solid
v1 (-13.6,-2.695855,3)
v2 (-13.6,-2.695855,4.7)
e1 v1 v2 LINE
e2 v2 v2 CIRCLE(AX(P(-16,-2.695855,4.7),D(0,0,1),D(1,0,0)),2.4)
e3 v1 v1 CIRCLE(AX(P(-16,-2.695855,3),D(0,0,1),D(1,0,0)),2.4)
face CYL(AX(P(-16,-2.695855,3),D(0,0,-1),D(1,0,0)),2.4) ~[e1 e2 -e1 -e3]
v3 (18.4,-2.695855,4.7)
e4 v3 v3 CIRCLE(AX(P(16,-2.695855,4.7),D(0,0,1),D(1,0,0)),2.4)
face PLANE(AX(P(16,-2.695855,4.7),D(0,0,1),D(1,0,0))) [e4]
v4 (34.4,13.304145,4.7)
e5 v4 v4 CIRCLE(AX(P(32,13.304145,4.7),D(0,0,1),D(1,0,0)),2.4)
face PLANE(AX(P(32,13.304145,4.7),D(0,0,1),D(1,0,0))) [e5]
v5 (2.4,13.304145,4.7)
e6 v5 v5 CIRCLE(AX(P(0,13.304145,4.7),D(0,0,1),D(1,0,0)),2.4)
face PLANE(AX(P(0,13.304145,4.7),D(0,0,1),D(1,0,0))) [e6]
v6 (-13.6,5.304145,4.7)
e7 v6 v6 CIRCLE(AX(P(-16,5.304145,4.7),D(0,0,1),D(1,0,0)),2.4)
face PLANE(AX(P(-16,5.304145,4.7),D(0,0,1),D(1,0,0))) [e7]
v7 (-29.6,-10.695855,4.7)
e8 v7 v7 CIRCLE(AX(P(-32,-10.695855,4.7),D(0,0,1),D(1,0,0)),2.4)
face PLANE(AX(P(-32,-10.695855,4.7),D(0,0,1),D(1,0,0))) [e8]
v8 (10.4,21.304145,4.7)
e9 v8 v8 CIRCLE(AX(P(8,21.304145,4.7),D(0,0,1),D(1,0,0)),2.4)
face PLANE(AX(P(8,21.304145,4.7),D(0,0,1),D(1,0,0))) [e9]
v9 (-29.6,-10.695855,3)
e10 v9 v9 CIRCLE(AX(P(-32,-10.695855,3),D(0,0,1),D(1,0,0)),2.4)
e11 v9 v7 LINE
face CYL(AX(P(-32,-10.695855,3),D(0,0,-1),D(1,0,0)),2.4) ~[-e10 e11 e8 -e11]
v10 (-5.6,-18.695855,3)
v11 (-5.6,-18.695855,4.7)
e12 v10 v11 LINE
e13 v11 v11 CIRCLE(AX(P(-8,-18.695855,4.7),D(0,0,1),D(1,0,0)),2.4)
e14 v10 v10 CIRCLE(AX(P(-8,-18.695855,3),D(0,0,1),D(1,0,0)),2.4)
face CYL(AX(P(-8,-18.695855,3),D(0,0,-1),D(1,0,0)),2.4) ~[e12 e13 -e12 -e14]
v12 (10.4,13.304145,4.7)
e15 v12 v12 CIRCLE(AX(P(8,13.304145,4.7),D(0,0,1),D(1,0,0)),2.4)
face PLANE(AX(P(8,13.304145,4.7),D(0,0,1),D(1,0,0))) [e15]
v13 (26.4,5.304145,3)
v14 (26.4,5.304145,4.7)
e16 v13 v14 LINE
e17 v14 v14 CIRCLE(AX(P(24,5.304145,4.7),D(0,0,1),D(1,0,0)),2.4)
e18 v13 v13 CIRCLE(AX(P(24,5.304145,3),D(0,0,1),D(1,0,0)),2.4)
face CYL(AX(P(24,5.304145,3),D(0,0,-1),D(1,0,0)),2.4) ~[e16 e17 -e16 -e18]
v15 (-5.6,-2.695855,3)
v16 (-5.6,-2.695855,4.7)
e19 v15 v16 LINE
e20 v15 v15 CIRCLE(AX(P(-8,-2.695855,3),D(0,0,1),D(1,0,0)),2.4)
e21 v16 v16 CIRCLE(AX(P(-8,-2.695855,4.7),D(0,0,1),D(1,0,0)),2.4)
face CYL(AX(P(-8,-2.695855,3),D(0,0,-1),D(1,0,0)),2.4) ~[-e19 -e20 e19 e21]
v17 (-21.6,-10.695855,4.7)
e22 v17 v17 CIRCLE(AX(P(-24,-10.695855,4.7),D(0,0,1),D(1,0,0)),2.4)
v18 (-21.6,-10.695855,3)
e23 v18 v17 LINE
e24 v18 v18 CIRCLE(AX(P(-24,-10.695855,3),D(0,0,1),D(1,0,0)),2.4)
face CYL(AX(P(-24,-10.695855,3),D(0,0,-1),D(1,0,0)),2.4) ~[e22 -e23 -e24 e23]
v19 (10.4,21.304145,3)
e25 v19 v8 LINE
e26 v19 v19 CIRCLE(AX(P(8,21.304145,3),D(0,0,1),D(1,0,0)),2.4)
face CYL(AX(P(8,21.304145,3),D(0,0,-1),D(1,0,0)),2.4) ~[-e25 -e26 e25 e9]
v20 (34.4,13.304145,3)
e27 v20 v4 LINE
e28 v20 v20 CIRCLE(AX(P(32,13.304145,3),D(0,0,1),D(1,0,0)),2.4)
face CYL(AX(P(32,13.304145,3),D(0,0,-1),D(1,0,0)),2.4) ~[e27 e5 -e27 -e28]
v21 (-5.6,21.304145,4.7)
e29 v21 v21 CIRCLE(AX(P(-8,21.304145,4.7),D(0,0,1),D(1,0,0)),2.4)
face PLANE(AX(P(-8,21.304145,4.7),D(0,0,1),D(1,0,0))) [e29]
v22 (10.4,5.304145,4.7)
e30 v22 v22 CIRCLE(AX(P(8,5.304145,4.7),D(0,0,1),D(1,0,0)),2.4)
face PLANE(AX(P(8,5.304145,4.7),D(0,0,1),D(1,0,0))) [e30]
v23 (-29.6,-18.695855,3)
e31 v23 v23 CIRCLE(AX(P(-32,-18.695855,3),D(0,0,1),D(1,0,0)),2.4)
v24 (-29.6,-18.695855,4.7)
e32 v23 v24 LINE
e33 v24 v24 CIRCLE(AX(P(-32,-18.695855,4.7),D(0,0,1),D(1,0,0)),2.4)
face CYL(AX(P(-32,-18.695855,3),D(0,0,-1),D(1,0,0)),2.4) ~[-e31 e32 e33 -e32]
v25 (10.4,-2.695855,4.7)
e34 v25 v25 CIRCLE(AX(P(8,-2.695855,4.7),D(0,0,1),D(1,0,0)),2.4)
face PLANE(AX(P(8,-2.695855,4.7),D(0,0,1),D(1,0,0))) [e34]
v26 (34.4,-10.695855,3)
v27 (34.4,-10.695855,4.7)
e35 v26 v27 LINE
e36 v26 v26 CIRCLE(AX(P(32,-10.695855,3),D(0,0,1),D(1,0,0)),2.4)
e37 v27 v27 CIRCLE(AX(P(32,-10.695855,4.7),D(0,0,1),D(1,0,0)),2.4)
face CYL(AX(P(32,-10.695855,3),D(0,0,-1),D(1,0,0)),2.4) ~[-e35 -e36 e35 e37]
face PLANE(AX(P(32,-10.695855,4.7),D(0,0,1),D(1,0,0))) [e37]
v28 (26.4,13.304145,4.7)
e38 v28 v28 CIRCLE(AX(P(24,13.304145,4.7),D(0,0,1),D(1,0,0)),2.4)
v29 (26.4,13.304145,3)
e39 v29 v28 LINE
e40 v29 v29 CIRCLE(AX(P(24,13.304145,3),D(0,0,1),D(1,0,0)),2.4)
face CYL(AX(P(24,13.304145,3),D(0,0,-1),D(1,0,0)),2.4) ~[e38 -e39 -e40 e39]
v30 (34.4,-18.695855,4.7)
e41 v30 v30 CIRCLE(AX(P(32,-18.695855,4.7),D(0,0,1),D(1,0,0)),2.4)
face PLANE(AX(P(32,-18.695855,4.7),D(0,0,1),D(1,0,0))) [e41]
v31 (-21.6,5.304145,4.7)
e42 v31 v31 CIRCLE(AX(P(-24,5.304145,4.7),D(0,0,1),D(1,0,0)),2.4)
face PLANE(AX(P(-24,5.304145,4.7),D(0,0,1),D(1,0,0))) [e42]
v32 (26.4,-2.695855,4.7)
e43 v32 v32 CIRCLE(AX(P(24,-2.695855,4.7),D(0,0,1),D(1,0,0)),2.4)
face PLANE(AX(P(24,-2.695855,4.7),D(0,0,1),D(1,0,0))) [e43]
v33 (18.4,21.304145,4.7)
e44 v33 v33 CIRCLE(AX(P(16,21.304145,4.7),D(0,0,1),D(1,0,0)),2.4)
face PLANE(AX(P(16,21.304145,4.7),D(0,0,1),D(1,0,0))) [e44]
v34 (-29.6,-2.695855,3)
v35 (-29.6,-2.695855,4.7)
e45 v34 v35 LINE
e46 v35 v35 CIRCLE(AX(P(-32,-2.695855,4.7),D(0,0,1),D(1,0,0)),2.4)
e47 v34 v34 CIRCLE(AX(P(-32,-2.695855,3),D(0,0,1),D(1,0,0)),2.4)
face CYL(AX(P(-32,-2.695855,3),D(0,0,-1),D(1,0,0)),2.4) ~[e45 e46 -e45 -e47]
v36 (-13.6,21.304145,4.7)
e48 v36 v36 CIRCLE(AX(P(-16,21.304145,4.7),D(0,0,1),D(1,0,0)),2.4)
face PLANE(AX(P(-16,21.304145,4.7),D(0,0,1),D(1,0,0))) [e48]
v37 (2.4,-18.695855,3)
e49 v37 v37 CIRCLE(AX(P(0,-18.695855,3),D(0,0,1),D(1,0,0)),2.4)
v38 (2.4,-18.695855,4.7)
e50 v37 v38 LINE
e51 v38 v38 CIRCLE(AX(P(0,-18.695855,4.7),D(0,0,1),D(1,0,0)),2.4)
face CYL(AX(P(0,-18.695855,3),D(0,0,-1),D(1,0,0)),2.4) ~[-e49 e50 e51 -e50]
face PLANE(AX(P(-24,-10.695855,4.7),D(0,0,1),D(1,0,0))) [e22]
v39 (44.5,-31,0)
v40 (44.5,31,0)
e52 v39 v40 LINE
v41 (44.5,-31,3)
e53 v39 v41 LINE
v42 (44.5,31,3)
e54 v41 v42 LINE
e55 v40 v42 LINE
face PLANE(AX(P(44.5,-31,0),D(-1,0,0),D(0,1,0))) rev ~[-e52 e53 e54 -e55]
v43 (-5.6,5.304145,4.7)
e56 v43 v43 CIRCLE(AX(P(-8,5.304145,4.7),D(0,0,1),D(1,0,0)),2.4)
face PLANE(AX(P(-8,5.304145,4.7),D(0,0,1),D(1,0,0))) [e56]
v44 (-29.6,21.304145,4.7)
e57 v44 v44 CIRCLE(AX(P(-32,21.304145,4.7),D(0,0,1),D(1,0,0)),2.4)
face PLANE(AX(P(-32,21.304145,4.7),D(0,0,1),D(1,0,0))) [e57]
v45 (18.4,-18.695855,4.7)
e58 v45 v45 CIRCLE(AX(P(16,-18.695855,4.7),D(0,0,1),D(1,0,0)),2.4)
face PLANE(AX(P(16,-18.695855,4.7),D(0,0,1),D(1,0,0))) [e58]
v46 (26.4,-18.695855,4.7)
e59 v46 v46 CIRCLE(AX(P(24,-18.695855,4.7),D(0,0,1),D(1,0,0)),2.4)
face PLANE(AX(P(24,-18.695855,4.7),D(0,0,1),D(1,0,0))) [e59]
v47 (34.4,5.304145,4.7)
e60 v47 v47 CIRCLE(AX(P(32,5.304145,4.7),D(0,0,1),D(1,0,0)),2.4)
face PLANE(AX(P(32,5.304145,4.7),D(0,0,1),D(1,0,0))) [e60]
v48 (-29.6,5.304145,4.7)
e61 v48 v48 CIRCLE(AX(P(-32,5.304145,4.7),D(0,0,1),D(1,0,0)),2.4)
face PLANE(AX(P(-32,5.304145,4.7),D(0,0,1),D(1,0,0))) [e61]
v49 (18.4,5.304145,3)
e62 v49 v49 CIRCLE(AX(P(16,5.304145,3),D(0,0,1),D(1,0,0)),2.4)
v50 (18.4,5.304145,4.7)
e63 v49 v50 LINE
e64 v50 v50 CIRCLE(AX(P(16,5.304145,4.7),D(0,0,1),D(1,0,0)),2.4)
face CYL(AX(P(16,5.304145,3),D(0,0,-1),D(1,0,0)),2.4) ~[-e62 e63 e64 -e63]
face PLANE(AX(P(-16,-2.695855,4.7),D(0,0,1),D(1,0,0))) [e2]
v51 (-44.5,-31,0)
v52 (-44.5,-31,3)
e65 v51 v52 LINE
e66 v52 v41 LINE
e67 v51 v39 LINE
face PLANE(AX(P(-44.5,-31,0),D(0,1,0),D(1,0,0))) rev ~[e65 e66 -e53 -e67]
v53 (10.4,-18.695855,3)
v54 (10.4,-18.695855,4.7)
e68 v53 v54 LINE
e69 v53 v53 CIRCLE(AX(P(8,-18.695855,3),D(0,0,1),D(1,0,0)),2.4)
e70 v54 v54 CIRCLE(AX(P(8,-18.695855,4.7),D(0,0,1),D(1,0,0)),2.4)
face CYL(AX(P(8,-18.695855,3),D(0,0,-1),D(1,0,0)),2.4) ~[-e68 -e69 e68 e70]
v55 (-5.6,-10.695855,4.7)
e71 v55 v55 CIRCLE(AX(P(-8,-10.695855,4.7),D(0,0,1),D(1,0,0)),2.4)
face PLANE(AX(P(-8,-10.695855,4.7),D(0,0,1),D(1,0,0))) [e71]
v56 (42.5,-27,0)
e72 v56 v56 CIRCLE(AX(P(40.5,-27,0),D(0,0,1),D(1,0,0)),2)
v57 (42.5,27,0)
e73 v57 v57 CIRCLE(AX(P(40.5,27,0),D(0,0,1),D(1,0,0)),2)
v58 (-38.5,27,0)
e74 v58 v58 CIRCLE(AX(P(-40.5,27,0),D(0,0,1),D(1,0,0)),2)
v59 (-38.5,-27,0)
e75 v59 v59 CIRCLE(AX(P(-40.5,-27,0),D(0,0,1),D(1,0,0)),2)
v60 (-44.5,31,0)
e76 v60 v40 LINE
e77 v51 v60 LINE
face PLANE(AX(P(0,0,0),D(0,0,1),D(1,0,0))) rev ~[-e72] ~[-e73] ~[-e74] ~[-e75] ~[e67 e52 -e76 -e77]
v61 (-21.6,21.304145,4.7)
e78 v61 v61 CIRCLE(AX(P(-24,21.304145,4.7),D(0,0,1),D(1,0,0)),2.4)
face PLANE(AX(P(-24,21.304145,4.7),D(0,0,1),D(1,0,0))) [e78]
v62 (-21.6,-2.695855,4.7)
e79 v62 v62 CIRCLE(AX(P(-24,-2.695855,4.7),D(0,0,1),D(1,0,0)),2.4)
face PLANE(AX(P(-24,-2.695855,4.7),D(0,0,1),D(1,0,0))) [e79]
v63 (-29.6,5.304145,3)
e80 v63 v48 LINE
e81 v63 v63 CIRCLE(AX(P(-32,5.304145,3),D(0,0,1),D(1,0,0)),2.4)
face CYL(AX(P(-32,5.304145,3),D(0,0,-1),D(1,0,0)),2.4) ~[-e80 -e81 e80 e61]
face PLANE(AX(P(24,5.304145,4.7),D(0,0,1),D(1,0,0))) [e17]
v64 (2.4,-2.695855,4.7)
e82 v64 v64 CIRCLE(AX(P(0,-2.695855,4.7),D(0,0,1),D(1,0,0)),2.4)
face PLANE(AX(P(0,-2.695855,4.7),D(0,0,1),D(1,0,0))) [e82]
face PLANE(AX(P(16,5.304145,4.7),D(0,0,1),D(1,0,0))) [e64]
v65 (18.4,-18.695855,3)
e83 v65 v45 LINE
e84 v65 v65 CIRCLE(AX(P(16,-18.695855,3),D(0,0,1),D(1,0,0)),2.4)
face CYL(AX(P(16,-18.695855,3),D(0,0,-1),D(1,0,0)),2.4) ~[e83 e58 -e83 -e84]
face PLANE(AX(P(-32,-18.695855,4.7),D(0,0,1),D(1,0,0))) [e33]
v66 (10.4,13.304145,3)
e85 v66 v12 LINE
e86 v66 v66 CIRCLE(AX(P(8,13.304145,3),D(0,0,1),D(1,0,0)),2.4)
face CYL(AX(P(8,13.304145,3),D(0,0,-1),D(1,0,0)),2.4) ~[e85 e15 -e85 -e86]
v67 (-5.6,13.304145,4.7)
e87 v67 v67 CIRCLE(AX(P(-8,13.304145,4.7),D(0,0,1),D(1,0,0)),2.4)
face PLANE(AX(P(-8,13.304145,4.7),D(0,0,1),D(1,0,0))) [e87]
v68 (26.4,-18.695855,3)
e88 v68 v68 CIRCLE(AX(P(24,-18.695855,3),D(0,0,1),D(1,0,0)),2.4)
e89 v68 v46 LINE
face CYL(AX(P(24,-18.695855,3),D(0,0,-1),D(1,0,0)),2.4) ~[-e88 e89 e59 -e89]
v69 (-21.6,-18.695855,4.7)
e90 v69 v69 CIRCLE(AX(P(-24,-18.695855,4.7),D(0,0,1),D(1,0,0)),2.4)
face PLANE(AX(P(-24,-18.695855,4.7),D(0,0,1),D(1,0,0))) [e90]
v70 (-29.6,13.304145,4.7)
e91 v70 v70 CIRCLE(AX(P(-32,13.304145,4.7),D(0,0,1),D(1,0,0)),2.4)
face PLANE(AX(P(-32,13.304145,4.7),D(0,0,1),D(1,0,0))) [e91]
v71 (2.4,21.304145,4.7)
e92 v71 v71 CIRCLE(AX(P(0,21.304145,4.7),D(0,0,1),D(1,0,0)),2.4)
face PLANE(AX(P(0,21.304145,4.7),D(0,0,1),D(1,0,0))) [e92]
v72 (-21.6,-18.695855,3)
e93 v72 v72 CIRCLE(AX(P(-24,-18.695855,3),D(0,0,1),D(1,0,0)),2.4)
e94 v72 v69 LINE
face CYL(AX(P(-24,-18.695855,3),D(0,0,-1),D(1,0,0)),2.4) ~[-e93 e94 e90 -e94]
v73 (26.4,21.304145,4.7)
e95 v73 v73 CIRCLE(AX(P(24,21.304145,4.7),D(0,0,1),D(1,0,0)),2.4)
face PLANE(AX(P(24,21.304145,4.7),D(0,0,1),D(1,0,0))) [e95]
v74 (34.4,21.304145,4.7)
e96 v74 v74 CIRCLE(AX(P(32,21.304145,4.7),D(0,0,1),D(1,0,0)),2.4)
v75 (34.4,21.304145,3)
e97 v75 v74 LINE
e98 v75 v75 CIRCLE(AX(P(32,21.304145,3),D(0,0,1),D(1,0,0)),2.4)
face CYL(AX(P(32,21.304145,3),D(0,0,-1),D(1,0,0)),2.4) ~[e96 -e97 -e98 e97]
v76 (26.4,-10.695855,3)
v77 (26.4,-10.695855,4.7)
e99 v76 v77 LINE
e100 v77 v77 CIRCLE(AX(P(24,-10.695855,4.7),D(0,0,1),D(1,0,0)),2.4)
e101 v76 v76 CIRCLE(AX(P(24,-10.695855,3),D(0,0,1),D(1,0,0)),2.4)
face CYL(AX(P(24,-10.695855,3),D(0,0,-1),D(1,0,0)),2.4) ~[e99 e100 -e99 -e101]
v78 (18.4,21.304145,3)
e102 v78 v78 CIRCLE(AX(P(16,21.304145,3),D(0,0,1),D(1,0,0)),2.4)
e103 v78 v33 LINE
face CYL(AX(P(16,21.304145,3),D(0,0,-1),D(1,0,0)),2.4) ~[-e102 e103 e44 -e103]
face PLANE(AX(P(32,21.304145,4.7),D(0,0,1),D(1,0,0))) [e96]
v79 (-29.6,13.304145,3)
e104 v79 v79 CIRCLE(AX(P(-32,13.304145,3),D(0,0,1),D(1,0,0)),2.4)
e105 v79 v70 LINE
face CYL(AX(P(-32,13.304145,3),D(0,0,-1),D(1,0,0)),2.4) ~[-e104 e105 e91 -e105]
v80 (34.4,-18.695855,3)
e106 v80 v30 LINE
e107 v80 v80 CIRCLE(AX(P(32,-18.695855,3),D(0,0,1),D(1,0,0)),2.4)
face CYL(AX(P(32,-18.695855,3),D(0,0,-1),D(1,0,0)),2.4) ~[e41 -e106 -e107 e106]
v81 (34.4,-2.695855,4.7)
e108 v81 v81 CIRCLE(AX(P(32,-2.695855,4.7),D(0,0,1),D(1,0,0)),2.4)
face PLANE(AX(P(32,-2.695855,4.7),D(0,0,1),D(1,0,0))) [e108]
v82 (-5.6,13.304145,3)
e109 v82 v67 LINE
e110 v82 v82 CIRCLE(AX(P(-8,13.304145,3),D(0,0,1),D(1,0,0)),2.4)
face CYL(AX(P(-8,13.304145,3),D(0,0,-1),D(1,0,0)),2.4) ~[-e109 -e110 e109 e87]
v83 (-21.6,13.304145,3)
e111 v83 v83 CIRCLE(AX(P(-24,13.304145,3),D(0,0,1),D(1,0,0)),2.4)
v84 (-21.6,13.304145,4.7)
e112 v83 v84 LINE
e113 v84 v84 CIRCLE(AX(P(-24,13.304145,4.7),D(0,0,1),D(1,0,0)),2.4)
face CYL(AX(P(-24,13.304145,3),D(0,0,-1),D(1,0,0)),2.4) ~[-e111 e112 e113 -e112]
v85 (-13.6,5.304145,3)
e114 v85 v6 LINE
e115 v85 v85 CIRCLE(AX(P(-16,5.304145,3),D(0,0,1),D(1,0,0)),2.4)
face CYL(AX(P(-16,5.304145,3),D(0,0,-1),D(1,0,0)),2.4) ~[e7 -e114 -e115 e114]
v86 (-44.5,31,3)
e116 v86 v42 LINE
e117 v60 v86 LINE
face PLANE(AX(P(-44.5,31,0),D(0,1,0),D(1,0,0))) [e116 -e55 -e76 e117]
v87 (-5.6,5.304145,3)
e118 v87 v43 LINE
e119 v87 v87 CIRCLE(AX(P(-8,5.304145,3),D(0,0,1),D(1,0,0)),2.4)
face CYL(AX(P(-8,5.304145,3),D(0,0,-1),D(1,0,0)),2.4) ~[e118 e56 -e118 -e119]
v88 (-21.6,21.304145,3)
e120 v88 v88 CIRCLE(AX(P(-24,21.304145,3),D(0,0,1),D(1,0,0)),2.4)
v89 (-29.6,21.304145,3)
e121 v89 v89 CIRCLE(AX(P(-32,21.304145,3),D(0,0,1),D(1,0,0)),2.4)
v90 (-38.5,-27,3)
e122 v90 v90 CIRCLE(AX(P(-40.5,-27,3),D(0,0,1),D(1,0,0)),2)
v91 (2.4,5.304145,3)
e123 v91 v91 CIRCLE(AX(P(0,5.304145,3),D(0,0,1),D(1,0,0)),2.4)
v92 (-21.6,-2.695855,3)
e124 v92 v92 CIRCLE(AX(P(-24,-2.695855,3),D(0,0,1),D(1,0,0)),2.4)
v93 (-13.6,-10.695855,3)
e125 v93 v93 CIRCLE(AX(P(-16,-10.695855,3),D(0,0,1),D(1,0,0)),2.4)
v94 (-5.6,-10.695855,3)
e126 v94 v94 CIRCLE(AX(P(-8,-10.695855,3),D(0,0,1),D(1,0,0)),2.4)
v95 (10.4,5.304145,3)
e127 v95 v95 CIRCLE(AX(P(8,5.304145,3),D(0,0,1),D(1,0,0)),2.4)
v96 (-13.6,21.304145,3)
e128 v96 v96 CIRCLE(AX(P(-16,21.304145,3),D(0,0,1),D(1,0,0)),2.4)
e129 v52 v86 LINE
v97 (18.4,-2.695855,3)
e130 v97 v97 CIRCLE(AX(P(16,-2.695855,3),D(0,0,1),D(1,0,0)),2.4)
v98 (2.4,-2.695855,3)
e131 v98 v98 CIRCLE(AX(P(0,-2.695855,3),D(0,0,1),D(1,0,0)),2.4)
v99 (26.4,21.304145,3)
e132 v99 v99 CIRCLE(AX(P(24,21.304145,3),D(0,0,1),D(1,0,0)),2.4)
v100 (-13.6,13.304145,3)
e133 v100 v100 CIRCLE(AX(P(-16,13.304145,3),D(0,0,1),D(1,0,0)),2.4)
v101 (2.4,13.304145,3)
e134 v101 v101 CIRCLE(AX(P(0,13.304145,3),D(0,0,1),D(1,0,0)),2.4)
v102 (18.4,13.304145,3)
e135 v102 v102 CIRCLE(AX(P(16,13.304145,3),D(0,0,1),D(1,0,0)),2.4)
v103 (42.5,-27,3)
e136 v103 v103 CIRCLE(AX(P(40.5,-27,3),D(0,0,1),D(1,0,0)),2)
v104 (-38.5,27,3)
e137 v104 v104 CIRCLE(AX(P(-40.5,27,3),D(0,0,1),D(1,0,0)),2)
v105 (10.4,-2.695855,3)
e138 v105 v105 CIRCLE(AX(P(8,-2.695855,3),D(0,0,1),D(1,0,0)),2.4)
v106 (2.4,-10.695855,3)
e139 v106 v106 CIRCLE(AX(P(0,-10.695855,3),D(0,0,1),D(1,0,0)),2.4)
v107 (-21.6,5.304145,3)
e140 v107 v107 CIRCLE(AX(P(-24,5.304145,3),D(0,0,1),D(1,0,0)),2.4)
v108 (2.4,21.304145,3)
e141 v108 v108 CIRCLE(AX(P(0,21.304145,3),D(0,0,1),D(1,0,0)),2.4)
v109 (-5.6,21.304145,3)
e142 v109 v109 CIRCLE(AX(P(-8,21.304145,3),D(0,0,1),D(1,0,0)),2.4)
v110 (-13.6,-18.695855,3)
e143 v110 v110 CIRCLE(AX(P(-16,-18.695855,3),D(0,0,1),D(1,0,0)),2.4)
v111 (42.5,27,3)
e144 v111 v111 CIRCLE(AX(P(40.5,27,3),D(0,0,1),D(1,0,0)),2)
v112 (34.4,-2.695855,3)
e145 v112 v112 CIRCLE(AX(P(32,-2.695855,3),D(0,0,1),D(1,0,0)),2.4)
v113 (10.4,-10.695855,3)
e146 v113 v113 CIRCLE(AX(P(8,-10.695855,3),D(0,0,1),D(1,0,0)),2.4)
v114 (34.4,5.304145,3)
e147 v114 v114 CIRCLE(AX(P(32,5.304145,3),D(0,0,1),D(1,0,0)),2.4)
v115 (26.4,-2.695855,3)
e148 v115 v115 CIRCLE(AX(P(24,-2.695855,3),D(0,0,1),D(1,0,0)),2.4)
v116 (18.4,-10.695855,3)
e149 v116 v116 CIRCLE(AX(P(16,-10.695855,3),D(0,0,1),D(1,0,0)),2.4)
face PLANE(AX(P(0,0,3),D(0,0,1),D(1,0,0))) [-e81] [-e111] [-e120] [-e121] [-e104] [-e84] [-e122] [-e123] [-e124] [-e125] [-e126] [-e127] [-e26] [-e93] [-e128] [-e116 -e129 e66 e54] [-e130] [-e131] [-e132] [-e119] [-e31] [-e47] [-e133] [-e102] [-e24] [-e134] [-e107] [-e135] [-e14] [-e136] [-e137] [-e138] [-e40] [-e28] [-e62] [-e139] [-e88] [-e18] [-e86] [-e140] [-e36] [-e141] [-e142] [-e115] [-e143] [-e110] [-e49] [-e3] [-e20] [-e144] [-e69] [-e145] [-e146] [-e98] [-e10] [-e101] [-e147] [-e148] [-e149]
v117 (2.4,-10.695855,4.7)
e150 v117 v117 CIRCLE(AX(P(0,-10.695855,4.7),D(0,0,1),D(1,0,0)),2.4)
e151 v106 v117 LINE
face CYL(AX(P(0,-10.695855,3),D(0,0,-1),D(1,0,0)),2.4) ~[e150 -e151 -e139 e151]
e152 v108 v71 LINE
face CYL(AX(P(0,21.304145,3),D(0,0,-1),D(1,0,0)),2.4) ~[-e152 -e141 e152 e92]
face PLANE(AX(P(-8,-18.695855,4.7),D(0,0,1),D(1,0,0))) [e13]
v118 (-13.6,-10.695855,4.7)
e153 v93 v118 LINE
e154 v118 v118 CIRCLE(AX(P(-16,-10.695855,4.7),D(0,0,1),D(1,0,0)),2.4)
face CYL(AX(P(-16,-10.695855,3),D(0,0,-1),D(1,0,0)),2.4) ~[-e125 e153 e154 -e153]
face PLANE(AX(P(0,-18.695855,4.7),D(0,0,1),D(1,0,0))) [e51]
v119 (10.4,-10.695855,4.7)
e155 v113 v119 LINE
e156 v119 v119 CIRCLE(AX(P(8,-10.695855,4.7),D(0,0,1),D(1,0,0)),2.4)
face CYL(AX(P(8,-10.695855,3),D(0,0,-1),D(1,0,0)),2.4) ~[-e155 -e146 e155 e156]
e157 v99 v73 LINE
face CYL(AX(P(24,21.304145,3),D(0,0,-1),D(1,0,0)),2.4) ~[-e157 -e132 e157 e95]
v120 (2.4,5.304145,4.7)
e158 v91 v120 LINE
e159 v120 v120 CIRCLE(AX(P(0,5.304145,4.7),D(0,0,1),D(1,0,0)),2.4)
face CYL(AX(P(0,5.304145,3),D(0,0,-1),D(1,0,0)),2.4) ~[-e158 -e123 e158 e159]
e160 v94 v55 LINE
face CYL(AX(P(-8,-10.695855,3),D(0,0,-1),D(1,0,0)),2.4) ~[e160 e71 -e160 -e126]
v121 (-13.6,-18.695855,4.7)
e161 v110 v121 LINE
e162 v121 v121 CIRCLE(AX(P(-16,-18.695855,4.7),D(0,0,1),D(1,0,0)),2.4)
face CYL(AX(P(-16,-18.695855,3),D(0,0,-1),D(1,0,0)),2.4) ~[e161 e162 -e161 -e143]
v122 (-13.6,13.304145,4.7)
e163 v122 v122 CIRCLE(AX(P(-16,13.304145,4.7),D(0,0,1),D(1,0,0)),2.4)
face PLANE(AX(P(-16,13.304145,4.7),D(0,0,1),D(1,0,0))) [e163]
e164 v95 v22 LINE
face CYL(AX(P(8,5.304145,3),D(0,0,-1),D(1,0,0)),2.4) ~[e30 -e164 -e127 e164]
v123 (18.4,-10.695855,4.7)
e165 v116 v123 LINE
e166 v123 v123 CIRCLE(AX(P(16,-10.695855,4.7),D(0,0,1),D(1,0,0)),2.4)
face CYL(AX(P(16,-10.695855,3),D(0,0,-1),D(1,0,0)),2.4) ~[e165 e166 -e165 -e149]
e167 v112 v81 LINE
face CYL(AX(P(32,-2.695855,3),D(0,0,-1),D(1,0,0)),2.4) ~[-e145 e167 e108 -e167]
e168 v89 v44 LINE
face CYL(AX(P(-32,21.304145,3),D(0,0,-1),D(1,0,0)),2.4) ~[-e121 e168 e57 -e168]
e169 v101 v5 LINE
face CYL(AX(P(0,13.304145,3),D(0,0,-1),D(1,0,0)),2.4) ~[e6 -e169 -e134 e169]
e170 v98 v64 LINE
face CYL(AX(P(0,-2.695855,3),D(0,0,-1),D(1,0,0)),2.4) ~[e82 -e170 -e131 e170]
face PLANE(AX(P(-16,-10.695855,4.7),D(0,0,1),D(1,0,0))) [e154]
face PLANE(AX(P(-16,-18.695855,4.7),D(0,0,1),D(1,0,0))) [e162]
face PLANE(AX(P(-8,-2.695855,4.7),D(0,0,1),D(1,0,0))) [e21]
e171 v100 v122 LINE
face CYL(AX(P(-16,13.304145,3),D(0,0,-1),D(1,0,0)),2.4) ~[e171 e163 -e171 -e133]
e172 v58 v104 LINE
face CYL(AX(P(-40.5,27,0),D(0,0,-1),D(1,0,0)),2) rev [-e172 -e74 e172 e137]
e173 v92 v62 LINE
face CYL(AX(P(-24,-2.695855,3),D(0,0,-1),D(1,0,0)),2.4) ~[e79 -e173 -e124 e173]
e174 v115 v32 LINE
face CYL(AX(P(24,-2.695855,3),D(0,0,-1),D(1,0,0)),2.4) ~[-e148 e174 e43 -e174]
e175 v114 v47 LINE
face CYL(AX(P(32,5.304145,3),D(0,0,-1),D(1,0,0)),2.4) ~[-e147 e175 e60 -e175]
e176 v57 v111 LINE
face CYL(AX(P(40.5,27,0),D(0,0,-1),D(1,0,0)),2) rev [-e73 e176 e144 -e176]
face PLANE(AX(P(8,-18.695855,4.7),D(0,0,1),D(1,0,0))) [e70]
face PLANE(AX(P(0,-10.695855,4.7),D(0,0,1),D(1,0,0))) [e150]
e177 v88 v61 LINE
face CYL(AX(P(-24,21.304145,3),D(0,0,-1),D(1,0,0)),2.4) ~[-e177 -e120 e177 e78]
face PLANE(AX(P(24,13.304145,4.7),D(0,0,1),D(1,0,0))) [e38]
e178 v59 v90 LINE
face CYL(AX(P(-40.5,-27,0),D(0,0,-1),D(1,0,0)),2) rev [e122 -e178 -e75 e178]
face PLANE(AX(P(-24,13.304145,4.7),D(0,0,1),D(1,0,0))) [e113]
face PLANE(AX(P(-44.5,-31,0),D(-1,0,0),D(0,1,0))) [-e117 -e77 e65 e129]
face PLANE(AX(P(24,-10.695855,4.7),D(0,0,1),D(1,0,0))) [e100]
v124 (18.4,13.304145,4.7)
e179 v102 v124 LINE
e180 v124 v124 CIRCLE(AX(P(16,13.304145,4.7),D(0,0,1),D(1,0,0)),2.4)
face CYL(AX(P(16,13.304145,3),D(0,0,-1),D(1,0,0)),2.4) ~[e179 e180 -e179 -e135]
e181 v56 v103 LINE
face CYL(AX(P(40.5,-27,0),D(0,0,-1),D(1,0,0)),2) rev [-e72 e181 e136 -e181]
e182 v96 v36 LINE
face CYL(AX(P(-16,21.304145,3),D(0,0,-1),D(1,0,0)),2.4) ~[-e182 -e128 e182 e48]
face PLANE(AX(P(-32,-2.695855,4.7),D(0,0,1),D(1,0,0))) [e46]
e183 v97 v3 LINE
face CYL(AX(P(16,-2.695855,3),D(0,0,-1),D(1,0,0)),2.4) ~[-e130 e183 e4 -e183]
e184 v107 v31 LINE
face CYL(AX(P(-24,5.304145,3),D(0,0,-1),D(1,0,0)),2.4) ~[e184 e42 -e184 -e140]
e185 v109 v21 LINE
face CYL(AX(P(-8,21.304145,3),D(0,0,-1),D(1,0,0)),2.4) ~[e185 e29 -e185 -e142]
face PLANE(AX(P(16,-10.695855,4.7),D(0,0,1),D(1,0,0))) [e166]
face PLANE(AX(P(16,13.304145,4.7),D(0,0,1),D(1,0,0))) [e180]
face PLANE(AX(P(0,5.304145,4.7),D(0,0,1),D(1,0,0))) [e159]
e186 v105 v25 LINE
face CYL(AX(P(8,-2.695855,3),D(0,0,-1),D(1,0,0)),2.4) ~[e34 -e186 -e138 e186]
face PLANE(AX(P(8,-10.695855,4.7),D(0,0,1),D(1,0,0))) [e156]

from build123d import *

# Parameters (mm, degrees)
F0_W     = 89
F0_H     = 62
F0_R     = 2
F1_DEPTH = 3
F2_R     = 2.4
F3_DEPTH = 1.7


with BuildPart() as f1:
    # F0 (on Top) → F1 (new body)
    with BuildSketch(Plane.XY):
        Rectangle(F0_W, F0_H)
        with Locations((-40.5, -27)):
            Circle(F0_R, mode=Mode.SUBTRACT)
        with Locations((40.5, -27)):
            Circle(F0_R, mode=Mode.SUBTRACT)
        with Locations((-40.5, 27)):
            Circle(F0_R, mode=Mode.SUBTRACT)
        with Locations((40.5, 27)):
            Circle(F0_R, mode=Mode.SUBTRACT)
    extrude(amount=F1_DEPTH)

    # F2 (on face) → F3 (join)
    with BuildSketch(Plane.XY.offset(3)):
        with Locations((16, 21.304145)):
            Circle(F2_R)
        with Locations((24, 21.304145)):
            Circle(F2_R)
        with Locations((0, -10.695855)):
            Circle(F2_R)
        with Locations((8, -18.695855)):
            Circle(F2_R)
        with Locations((24, -18.695855)):
            Circle(F2_R)
        with Locations((0, -2.695855)):
            Circle(F2_R)
        with Locations((-8, -10.695855)):
            Circle(F2_R)
        with Locations((-24, 13.304145)):
            Circle(F2_R)
        with Locations((32, -18.695855)):
            Circle(F2_R)
        with Locations((-24, -18.695855)):
            Circle(F2_R)
        with Locations((8, 13.304145)):
            Circle(F2_R)
        with Locations((32, 21.304145)):
            Circle(F2_R)
        with Locations((16, -10.695855)):
            Circle(F2_R)
        with Locations((16, -18.695855)):
            Circle(F2_R)
        with Locations((24, -10.695855)):
            Circle(F2_R)
        with Locations((-8, -18.695855)):
            Circle(F2_R)
        with Locations((32, 13.304145)):
            Circle(F2_R)
        with Locations((-32, 21.304145)):
            Circle(F2_R)
        with Locations((-16, -18.695855)):
            Circle(F2_R)
        with Locations((0, 21.304145)):
            Circle(F2_R)
        with Locations((-16, 21.304145)):
            Circle(F2_R)
        with Locations((-16, -10.695855)):
            Circle(F2_R)
        with Locations((-8, 21.304145)):
            Circle(F2_R)
        with Locations((-32, -10.695855)):
            Circle(F2_R)
        with Locations((8, 21.304145)):
            Circle(F2_R)
        with Locations((-32, -18.695855)):
            Circle(F2_R)
        with Locations((-8, 13.304145)):
            Circle(F2_R)
        with Locations((-24, 21.304145)):
            Circle(F2_R)
        with Locations((-24, -10.695855)):
            Circle(F2_R)
        with Locations((32, -10.695855)):
            Circle(F2_R)
        with Locations((0, -18.695855)):
            Circle(F2_R)
        with Locations((8, -10.695855)):
            Circle(F2_R)
        with Locations((-16, -2.695855)):
            Circle(F2_R)
        with Locations((-24, -2.695855)):
            Circle(F2_R)
        with Locations((16, -2.695855)):
            Circle(F2_R)
        with Locations((24, -2.695855)):
            Circle(F2_R)
        with Locations((-32, -2.695855)):
            Circle(F2_R)
        with Locations((8, -2.695855)):
            Circle(F2_R)
        with Locations((32, -2.695855)):
            Circle(F2_R)
        with Locations((-8, -2.695855)):
            Circle(F2_R)
        with Locations((0, 5.304145)):
            Circle(F2_R)
        with Locations((-16, 5.304145)):
            Circle(F2_R)
        with Locations((-24, 5.304145)):
            Circle(F2_R)
        with Locations((16, 5.304145)):
            Circle(F2_R)
        with Locations((24, 5.304145)):
            Circle(F2_R)
        with Locations((-32, 5.304145)):
            Circle(F2_R)
        with Locations((8, 5.304145)):
            Circle(F2_R)
        with Locations((32, 5.304145)):
            Circle(F2_R)
        with Locations((16, 13.304145)):
            Circle(F2_R)
        with Locations((-8, 5.304145)):
            Circle(F2_R)
        with Locations((0, 13.304145)):
            Circle(F2_R)
        with Locations((-16, 13.304145)):
            Circle(F2_R)
        with Locations((24, 13.304145)):
            Circle(F2_R)
        with Locations((-32, 13.304145)):
            Circle(F2_R)
    extrude(amount=F3_DEPTH)


solid = f1.part
